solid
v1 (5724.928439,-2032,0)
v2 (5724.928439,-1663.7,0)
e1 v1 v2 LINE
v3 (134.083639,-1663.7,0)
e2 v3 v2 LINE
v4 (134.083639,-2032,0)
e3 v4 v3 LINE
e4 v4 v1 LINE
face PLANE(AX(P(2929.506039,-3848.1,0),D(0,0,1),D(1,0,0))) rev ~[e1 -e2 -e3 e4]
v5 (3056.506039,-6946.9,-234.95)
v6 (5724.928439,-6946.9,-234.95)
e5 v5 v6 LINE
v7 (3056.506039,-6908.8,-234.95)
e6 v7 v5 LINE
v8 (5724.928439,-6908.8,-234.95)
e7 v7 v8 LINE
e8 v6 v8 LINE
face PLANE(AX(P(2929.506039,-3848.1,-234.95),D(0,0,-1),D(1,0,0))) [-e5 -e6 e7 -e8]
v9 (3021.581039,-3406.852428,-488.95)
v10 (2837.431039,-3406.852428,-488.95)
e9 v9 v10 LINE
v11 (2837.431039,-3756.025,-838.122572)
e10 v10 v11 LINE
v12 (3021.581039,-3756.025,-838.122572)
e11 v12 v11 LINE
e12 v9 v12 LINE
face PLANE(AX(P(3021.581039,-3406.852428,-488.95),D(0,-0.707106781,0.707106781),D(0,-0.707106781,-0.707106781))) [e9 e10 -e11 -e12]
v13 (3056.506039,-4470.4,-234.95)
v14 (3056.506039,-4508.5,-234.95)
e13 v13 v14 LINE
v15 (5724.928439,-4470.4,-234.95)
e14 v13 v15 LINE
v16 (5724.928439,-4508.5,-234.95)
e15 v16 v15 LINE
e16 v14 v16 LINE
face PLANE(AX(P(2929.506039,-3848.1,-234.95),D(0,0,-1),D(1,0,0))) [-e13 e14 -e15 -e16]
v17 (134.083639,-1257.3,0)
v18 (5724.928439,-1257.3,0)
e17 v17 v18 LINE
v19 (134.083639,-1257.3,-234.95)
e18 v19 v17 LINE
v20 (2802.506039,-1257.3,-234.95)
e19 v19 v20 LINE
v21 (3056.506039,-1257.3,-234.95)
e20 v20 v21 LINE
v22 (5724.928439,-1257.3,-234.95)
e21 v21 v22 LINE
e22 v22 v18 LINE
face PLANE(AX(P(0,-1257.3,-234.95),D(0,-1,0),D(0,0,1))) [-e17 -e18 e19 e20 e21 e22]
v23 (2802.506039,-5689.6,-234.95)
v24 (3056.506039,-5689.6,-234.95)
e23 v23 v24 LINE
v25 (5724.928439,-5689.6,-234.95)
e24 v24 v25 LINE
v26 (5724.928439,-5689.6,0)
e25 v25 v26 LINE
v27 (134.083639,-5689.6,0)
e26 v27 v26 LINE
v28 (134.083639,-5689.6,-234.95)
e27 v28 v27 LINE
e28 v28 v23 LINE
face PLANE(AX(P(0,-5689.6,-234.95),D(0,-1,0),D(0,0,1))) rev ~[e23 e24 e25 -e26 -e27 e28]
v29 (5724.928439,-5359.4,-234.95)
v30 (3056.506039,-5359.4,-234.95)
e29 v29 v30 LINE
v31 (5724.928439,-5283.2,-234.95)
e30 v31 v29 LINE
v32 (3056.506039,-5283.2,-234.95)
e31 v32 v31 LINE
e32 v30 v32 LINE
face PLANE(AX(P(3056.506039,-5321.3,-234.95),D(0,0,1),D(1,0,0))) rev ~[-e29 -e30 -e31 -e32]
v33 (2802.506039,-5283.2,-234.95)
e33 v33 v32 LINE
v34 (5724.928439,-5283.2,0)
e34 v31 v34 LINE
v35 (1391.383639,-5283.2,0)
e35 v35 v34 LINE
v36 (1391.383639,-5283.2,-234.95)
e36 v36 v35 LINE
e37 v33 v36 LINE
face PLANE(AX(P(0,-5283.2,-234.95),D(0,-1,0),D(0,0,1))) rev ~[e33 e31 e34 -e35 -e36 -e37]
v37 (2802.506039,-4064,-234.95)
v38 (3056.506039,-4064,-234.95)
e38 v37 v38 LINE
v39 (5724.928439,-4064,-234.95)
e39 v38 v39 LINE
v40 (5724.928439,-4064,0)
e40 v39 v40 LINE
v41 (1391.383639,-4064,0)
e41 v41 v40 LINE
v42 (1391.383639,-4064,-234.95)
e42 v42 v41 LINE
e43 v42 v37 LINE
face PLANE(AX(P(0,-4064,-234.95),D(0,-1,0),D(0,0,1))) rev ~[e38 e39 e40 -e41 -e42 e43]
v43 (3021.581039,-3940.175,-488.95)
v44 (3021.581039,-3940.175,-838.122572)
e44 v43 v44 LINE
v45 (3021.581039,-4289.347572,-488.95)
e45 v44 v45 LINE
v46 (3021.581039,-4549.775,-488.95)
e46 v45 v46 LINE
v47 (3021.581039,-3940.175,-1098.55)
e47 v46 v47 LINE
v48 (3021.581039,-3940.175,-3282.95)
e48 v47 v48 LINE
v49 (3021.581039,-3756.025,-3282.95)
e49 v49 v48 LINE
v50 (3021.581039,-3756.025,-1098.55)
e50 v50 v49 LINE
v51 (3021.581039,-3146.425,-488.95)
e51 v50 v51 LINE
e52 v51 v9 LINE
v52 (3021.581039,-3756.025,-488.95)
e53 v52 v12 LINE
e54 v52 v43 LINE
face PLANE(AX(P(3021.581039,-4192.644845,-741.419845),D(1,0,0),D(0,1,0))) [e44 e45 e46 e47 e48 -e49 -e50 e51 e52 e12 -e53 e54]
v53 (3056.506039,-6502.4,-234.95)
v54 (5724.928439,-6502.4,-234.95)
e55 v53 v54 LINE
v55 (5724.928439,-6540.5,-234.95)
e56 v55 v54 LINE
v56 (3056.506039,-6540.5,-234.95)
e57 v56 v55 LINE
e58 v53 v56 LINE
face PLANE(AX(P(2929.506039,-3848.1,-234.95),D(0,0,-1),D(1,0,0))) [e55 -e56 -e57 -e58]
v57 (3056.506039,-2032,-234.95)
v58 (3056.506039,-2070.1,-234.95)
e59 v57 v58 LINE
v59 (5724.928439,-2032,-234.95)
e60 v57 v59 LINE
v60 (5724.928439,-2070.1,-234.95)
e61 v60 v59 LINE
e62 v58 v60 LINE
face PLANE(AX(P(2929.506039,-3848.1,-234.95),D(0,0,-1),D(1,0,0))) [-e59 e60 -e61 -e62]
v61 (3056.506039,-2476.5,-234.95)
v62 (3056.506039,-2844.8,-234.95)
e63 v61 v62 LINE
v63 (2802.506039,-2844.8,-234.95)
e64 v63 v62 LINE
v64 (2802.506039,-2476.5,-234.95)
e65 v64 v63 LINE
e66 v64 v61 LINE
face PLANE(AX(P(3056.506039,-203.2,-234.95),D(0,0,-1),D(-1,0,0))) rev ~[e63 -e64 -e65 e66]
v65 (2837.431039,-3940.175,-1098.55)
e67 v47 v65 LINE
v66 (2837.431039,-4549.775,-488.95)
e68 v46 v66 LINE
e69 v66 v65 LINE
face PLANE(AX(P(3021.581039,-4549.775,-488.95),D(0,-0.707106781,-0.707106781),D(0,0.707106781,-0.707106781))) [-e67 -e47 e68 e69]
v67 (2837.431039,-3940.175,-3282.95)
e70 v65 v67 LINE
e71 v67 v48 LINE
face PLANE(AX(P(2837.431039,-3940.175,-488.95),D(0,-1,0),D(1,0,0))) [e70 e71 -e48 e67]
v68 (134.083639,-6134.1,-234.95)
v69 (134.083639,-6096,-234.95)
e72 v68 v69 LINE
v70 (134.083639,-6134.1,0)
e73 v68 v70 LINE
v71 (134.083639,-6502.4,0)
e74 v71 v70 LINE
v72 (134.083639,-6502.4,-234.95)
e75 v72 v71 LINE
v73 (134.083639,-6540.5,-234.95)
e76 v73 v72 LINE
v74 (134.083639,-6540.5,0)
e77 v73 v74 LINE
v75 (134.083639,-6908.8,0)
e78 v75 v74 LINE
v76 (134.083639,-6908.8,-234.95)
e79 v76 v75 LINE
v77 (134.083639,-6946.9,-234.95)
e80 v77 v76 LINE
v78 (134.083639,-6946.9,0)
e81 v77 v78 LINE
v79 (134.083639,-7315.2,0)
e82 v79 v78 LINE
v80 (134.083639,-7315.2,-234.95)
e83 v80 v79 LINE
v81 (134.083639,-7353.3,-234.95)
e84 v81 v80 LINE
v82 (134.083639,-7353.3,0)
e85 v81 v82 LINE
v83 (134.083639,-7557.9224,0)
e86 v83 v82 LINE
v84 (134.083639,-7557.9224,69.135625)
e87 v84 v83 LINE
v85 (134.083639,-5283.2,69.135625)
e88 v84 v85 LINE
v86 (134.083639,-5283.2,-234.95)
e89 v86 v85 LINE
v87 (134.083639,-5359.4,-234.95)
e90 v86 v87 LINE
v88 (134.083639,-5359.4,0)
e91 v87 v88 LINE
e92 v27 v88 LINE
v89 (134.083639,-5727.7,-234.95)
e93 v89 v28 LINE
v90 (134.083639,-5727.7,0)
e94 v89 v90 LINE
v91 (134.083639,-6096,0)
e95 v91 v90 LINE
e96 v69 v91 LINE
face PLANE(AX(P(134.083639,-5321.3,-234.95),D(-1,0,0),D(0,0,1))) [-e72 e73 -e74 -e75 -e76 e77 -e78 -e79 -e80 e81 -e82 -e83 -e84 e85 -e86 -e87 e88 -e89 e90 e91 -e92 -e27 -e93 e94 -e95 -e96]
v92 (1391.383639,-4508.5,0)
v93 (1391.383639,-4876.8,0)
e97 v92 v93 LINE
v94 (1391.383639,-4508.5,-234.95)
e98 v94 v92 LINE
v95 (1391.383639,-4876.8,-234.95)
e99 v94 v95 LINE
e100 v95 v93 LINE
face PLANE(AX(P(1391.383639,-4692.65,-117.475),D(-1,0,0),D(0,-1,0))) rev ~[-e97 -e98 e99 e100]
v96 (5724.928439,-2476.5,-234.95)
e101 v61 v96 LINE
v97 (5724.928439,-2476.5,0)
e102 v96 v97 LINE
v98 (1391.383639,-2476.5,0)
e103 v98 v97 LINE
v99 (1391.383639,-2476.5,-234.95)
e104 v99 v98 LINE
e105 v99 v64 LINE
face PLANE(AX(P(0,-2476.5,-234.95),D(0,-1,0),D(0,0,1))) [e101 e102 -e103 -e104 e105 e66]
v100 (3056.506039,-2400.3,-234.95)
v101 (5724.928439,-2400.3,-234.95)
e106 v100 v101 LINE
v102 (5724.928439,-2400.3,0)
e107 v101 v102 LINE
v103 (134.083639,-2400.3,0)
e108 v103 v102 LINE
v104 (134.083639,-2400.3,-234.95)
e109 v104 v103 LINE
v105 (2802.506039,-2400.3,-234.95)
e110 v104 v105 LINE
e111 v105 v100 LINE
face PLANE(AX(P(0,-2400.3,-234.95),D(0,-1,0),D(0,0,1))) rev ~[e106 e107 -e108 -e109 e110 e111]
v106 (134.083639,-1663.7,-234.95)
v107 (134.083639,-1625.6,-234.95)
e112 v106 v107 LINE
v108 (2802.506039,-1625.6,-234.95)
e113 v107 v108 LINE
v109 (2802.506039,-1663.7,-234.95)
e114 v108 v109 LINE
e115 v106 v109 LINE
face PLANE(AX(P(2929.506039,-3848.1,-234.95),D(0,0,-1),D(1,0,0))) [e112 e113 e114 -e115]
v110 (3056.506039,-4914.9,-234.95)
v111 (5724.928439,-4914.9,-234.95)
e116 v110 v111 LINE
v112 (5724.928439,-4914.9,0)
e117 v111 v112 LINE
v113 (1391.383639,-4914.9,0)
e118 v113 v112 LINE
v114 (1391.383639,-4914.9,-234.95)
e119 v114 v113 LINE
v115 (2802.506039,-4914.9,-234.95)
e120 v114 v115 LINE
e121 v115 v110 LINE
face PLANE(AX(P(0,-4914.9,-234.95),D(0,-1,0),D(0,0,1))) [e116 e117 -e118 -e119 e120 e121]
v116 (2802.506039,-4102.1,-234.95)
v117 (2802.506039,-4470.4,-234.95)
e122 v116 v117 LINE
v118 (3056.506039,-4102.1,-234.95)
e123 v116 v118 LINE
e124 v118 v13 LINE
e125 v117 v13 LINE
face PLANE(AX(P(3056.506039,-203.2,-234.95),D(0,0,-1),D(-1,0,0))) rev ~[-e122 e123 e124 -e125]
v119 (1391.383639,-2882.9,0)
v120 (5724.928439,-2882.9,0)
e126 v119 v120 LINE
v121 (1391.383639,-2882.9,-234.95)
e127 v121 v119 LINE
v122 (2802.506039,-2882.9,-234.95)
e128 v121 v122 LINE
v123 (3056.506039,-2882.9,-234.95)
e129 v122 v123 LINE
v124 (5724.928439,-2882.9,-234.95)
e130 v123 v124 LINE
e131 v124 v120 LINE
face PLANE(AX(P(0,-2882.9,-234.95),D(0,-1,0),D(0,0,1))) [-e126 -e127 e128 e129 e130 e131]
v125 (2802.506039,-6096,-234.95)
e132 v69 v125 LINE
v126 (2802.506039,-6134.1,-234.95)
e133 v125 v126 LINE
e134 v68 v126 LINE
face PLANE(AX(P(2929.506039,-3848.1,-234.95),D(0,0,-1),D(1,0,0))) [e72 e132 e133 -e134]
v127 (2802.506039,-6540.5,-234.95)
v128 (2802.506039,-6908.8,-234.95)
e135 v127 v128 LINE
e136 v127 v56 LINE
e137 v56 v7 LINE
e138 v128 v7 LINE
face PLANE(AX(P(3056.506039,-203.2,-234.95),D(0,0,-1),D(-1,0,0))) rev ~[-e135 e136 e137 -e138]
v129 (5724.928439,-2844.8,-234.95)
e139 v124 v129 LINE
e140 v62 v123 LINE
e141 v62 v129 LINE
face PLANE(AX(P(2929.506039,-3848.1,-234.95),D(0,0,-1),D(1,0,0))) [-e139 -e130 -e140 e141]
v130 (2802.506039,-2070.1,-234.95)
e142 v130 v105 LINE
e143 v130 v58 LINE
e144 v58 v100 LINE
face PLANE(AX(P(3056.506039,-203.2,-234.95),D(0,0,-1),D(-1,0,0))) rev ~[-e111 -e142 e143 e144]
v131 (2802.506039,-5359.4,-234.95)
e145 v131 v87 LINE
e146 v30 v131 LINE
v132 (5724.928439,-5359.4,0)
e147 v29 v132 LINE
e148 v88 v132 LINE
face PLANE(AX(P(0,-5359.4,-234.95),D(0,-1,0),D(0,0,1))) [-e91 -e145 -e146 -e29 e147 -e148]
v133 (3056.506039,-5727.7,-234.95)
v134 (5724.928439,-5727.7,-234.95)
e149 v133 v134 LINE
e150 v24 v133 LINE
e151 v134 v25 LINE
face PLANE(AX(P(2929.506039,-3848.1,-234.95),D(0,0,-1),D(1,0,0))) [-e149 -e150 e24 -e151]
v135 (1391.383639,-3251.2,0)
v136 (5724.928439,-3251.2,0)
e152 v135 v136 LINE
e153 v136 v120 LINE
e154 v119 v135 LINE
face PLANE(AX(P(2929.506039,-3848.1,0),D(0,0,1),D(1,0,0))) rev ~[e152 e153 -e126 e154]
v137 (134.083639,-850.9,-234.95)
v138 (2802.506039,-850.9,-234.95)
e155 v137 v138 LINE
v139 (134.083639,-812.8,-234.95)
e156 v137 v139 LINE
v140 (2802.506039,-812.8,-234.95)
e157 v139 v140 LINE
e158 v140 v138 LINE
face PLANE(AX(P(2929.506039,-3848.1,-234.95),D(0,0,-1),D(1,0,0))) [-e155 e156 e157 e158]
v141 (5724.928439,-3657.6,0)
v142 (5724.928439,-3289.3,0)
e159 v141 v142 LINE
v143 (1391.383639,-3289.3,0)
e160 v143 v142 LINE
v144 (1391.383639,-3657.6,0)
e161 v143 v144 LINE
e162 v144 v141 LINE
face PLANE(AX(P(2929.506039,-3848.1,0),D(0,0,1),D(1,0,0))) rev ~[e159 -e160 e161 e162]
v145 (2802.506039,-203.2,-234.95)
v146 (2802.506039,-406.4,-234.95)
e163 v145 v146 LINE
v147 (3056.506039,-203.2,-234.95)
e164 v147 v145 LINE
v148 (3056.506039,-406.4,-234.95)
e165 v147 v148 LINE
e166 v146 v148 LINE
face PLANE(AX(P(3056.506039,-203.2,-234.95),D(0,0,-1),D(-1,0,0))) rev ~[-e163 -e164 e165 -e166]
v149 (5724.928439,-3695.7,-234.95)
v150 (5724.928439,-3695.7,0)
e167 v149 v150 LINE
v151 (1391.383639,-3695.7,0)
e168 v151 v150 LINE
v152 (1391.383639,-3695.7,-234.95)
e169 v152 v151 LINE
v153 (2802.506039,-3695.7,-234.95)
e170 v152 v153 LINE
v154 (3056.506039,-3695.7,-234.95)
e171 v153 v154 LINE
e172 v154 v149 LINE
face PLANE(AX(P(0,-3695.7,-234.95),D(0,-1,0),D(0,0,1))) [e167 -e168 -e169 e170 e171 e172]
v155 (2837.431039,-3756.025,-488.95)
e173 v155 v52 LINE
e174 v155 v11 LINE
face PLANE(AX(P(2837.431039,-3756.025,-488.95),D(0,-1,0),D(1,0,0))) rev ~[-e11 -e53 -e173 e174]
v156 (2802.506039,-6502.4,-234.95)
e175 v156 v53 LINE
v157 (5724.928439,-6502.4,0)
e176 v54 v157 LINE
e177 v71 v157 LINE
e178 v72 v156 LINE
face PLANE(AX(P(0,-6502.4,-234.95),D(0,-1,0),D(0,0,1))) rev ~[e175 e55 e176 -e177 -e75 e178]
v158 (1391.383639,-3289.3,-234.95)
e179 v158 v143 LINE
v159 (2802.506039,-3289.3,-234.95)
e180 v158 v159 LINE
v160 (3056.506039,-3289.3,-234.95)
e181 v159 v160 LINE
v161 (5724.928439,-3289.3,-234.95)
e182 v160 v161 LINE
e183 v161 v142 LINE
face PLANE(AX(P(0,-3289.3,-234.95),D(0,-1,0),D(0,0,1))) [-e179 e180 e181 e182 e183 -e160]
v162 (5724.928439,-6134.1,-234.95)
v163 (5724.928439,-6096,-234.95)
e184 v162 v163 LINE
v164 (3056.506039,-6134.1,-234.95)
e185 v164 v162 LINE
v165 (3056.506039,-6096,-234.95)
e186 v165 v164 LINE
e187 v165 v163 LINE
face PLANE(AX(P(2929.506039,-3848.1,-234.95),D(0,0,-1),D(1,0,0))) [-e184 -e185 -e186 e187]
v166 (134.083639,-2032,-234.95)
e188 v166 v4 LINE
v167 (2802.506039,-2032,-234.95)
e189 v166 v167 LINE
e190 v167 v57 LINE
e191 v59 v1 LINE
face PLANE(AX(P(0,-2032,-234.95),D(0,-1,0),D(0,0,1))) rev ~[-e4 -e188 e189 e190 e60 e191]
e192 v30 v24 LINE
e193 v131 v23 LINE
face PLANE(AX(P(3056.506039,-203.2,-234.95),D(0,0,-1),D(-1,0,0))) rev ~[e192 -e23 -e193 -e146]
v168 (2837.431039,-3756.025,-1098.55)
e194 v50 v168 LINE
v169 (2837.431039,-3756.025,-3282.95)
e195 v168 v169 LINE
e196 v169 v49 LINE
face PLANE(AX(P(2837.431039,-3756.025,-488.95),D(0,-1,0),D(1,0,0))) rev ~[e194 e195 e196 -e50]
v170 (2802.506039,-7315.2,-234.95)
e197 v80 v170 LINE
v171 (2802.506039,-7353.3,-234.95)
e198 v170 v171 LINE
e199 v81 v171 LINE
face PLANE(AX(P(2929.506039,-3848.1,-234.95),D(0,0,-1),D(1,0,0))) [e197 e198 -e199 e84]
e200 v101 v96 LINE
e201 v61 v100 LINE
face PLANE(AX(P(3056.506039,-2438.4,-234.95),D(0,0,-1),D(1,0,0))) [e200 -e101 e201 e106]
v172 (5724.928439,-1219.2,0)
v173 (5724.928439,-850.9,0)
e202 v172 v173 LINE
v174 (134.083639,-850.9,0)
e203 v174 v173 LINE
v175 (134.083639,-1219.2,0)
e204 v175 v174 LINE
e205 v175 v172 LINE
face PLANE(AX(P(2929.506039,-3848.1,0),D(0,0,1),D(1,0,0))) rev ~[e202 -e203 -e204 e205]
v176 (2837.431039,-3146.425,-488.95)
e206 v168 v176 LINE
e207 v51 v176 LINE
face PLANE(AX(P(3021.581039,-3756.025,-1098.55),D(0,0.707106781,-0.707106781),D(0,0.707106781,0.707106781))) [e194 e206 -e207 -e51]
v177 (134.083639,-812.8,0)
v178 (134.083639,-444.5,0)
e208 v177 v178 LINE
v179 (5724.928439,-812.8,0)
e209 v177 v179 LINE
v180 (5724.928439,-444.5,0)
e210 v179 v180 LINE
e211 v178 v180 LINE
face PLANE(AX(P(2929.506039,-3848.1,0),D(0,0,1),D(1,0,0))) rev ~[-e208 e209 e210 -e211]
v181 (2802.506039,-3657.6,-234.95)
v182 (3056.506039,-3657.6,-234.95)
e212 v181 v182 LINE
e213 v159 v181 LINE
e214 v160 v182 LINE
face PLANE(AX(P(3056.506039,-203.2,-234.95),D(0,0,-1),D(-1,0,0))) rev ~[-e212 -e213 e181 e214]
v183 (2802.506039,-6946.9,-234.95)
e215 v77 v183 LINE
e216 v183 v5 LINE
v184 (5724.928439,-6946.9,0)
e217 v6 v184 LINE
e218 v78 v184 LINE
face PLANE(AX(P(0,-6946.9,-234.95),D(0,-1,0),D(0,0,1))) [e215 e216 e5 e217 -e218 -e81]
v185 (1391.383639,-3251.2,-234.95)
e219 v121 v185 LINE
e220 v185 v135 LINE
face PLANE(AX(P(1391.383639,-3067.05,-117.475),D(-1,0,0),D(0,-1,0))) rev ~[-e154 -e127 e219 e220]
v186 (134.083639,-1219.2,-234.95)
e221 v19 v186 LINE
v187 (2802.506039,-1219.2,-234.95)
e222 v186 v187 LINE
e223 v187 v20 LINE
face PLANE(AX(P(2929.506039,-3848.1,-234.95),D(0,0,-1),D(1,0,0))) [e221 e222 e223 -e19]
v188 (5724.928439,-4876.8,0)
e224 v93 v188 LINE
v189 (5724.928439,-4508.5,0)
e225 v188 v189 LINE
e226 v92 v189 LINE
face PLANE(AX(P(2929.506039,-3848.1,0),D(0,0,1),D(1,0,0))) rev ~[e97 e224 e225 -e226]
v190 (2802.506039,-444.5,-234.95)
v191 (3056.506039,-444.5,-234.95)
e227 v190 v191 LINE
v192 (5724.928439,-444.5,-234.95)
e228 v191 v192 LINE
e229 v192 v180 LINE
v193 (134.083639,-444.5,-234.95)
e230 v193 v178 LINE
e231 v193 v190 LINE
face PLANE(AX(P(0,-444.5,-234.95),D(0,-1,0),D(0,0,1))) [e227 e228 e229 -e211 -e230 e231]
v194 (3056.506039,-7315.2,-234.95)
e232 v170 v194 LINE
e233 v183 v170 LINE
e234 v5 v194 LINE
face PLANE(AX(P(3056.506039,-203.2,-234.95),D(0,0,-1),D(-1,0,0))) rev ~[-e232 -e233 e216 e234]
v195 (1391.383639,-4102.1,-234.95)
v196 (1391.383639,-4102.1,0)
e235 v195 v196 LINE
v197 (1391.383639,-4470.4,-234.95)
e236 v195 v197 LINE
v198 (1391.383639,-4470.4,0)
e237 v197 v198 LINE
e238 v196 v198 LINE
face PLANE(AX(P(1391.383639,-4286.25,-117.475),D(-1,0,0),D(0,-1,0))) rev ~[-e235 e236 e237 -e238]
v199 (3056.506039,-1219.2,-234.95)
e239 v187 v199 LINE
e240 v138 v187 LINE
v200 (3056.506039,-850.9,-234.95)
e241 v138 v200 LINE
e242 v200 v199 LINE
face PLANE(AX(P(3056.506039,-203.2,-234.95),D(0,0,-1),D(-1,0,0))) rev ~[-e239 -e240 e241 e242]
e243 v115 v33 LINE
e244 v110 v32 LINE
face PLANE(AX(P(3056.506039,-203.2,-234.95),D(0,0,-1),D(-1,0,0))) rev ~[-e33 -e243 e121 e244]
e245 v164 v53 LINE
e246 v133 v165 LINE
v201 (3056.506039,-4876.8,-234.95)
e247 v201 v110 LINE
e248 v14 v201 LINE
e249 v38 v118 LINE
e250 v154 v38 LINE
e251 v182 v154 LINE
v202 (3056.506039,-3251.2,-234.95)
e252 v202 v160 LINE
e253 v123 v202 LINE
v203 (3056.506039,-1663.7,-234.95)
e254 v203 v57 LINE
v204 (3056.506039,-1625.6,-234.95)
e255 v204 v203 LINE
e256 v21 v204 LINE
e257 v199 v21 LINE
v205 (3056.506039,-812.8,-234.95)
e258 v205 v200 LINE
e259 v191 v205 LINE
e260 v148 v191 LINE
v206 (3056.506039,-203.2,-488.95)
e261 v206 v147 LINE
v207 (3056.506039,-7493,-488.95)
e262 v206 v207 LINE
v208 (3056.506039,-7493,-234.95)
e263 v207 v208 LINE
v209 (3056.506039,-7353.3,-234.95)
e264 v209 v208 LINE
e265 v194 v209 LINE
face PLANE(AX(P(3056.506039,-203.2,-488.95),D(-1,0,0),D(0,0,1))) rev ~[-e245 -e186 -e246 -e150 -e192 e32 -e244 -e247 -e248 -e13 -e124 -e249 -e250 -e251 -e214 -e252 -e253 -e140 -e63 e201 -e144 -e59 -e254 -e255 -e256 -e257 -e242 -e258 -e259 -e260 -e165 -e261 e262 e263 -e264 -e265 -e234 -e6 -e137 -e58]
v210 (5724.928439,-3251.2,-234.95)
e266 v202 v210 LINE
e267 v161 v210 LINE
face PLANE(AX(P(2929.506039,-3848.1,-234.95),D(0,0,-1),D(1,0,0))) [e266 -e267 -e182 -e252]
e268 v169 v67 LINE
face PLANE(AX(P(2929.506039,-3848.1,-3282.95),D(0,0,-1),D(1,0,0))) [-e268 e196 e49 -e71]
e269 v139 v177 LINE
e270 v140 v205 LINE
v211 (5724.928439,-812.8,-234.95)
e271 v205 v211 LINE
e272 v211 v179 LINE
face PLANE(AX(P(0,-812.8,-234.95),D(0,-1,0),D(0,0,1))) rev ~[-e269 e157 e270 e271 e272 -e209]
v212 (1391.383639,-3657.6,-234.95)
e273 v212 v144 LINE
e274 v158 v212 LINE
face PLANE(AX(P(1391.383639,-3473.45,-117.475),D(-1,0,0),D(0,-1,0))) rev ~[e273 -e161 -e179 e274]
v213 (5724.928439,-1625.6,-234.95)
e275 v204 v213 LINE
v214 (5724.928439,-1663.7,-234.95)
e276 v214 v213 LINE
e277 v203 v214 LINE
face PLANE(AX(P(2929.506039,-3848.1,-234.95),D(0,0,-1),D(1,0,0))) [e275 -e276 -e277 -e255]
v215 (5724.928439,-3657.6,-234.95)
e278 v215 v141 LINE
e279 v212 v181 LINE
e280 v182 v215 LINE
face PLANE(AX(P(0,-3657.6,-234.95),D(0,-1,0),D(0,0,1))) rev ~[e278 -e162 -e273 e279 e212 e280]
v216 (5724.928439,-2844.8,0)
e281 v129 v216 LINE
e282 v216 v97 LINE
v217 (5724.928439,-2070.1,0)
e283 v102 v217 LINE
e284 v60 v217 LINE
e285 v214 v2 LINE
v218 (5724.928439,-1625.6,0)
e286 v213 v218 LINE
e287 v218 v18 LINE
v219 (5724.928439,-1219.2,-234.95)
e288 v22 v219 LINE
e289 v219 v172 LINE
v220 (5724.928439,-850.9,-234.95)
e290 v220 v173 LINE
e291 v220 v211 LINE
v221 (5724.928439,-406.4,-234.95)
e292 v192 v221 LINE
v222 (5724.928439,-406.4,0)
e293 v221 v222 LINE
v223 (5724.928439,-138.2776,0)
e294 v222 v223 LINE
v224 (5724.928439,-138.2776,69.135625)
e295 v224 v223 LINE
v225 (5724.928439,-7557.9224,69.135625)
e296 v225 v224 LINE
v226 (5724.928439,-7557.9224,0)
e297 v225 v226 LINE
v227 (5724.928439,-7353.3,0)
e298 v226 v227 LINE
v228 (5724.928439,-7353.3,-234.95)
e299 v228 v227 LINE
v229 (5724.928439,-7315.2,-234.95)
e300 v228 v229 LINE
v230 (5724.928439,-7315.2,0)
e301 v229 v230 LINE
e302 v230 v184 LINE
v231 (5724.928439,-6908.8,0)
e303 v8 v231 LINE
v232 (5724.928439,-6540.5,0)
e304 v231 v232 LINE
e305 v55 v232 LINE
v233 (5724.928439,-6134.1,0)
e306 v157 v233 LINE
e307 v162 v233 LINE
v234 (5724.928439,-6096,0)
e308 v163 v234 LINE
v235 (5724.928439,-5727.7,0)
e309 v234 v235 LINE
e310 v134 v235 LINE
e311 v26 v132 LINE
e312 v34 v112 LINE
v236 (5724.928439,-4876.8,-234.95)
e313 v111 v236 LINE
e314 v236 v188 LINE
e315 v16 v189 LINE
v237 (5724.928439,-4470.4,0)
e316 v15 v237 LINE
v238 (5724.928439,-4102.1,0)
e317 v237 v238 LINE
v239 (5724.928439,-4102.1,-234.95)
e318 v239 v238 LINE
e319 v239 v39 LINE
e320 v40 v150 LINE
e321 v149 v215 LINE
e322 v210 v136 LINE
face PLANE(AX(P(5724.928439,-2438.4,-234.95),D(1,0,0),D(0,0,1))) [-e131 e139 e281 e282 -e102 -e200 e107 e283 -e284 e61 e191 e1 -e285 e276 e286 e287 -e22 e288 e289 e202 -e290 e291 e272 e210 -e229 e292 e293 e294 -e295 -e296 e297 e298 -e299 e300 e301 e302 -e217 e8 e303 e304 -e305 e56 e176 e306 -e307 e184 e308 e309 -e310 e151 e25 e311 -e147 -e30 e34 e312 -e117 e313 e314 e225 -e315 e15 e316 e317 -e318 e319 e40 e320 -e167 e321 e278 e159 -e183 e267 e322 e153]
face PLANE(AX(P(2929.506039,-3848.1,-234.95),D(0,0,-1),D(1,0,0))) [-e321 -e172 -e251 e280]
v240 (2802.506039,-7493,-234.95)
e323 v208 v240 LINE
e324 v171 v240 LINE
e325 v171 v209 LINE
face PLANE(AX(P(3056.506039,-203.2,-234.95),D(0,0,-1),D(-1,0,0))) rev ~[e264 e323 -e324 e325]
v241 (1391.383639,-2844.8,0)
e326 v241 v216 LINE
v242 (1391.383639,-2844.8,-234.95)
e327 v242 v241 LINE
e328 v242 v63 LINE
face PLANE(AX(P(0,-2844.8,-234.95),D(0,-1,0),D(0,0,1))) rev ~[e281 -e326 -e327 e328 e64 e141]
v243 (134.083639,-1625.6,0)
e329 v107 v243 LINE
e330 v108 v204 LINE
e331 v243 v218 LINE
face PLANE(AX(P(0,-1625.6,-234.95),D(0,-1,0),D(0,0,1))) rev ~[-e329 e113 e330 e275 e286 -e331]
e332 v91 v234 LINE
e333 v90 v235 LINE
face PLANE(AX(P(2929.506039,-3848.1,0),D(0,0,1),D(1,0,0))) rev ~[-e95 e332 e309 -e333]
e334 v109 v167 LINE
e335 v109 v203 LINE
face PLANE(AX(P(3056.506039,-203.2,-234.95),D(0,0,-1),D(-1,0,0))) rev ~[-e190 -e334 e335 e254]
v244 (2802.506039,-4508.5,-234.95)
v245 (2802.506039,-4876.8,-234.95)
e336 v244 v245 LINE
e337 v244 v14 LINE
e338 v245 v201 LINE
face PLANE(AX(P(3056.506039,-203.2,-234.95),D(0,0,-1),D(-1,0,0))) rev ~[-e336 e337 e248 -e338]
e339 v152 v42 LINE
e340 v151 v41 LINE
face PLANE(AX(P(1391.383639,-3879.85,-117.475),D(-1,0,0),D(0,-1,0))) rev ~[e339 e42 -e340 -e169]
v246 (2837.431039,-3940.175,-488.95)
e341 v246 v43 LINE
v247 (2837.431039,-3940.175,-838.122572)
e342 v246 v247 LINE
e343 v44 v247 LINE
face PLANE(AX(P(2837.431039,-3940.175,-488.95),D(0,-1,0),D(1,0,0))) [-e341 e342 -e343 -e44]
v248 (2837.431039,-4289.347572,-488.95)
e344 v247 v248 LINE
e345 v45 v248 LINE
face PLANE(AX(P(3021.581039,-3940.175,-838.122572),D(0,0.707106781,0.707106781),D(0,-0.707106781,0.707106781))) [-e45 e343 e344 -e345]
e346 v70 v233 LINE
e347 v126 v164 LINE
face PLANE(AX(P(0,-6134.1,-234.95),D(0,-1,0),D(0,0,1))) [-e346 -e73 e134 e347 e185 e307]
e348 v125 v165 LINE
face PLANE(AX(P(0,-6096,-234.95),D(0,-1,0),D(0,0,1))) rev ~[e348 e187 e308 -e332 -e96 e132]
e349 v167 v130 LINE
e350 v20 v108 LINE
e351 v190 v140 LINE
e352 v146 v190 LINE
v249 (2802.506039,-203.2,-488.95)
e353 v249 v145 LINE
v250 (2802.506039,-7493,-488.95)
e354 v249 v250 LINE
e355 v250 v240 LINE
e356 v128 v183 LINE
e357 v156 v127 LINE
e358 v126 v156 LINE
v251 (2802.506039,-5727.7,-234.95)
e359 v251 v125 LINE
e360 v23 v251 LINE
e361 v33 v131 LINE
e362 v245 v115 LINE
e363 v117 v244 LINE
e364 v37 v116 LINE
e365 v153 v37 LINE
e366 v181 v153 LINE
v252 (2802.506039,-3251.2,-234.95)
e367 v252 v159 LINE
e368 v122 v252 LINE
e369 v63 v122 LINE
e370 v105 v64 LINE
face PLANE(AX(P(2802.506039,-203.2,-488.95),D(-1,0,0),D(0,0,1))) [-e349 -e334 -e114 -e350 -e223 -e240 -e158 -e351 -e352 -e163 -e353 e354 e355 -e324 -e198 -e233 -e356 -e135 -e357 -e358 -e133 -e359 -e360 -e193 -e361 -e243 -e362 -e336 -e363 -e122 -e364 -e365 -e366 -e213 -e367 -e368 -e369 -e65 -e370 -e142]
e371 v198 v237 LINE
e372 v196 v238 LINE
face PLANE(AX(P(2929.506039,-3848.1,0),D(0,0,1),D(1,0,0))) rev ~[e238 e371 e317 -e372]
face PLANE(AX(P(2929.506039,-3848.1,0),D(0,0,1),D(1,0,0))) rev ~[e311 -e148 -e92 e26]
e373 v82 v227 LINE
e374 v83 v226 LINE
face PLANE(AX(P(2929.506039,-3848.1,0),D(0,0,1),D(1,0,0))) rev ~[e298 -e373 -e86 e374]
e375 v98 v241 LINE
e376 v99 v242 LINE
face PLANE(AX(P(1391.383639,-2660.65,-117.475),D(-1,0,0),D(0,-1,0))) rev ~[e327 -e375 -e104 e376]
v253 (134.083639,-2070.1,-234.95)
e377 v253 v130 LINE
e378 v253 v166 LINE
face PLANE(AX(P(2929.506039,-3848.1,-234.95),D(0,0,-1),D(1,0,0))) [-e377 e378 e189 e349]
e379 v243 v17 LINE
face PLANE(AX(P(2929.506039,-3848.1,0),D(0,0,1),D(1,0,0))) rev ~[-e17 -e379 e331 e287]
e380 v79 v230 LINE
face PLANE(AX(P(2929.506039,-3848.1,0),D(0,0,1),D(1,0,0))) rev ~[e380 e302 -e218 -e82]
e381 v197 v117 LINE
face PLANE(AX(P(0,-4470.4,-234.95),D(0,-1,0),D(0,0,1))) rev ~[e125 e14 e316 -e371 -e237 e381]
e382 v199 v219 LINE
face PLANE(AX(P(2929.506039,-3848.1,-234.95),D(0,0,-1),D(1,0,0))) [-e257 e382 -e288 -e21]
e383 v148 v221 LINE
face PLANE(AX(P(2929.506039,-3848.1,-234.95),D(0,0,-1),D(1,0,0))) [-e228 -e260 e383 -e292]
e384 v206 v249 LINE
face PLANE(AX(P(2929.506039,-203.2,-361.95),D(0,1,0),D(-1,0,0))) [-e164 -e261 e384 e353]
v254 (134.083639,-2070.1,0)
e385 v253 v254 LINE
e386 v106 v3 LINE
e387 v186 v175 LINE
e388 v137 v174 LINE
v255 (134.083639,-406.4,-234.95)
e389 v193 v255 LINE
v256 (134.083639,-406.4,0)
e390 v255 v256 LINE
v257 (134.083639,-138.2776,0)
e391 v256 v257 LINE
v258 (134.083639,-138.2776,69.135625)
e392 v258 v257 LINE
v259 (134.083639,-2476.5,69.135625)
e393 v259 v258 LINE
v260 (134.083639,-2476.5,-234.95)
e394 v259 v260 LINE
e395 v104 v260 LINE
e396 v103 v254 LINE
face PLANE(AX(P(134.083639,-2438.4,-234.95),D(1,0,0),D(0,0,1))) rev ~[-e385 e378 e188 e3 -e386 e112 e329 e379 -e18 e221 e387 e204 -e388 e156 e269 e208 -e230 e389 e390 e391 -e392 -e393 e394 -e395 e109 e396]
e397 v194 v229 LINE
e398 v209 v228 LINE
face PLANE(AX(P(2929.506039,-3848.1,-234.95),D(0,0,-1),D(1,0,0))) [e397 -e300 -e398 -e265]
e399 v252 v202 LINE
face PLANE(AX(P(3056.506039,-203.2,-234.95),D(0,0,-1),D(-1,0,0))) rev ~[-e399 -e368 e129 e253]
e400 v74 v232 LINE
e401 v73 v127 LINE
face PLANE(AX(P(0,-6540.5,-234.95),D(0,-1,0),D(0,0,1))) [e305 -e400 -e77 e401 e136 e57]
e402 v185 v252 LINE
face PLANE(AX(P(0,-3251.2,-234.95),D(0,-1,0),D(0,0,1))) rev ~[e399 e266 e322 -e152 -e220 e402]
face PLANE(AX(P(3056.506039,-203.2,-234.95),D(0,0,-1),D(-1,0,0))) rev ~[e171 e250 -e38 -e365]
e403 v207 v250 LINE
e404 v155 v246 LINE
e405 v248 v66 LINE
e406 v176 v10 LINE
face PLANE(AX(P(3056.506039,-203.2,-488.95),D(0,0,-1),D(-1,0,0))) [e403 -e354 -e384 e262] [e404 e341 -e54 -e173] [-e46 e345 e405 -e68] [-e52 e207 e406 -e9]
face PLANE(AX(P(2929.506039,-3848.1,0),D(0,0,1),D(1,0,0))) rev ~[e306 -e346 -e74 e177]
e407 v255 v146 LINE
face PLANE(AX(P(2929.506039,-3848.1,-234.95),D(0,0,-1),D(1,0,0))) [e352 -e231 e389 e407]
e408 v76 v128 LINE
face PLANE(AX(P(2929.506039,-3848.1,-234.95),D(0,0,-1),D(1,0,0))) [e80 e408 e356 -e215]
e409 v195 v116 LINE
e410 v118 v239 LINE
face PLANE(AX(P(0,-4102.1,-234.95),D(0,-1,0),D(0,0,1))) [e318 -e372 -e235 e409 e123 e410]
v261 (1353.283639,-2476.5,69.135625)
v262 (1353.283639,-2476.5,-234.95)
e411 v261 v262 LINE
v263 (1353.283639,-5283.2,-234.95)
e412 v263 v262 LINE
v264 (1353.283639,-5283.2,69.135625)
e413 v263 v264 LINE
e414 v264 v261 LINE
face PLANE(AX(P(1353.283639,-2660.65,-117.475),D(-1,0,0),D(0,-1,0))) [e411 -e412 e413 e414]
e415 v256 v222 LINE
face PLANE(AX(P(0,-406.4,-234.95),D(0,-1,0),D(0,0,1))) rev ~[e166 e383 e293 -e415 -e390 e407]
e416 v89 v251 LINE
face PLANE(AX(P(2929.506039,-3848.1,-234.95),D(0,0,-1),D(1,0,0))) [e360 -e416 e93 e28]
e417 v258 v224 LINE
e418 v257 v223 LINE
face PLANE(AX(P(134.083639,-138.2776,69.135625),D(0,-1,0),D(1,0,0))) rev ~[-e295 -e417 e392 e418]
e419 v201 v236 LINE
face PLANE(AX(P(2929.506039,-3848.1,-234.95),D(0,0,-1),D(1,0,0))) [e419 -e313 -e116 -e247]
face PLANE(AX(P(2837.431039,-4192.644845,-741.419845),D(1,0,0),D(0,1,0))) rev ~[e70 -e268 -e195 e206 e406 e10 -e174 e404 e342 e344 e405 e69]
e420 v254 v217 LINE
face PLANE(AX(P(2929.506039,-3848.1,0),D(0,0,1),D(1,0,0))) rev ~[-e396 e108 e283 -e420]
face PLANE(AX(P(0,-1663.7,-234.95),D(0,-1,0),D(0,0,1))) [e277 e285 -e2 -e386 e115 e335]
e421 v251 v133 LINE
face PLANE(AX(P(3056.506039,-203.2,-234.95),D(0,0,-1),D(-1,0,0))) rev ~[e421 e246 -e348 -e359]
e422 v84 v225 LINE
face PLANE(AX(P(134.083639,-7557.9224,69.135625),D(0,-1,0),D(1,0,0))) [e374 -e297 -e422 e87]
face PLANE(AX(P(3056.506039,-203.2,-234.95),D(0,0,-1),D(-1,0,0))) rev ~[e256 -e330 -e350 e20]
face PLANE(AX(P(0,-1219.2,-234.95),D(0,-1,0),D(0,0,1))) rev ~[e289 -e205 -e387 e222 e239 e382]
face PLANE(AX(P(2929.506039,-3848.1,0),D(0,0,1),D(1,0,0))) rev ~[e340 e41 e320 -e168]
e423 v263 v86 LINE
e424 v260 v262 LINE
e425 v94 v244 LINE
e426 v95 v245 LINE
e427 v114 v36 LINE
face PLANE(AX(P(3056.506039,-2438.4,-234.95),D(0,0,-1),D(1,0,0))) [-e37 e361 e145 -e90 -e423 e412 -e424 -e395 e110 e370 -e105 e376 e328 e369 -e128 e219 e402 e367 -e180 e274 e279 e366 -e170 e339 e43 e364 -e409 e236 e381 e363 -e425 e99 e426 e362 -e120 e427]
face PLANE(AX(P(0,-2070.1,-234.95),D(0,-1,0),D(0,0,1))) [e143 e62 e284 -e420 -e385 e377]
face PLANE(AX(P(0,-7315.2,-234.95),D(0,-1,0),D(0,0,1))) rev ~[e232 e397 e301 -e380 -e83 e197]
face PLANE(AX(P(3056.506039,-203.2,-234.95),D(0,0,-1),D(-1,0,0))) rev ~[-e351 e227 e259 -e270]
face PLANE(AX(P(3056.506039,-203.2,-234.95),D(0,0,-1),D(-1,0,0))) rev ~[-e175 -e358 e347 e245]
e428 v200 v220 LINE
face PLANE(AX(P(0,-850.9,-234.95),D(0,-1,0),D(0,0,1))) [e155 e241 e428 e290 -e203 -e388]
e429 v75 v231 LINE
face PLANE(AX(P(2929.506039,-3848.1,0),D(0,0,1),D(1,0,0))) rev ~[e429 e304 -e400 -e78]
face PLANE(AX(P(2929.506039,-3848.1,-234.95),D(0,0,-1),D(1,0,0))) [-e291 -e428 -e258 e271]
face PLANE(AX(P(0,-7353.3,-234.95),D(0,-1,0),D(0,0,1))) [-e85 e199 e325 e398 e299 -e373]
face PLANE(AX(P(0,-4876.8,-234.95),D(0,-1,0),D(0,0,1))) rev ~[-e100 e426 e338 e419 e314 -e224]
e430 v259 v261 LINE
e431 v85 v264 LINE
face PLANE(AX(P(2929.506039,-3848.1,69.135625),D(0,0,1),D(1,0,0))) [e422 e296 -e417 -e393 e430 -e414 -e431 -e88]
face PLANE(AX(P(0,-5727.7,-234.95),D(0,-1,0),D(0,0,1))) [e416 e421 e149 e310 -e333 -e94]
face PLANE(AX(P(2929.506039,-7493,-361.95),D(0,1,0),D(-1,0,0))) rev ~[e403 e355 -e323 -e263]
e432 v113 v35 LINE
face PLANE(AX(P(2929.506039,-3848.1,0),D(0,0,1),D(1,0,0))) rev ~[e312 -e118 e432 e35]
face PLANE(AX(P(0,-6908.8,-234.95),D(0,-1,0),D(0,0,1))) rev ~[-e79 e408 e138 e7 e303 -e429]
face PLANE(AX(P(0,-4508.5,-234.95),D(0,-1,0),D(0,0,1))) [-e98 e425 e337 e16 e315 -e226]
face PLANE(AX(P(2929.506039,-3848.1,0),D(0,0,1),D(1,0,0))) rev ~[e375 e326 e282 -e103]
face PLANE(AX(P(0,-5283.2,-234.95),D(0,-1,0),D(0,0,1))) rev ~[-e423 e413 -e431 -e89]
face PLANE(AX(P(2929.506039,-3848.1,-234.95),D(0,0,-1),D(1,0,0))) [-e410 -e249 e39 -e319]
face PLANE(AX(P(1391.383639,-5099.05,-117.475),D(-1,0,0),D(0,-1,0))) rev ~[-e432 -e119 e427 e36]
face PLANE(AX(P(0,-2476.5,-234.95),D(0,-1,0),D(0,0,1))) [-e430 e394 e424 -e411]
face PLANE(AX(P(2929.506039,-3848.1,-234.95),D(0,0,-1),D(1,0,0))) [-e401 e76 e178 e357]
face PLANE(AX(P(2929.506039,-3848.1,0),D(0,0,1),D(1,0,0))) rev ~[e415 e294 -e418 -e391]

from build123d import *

# Parameters (mm, degrees)
F0_W      = 5867.4
F0_H      = 7696.2
F1_DEPTH  = 69.135625
F2_W      = 5867.4
F2_H      = 7696.2
F2_W_2    = 5791.2
F2_H_2    = 7620
F3_DEPTH  = 234.95
F4_W      = 38.1
F4_H      = 234.95
F5_DEPTH  = 5863.2060388453
F7_W      = 254
F7_H      = 254
F8_DEPTH  = 7289.8
F9_W      = 184.15
F9_H      = 184.15
F10_DEPTH = 2794
F12_DEPTH = 184.15
F13_W     = 5867.4
F13_H     = 7696.2
F13_W_2   = 5590.8448
F13_H_2   = 7419.6448
F14_DEPTH = 304.085625
F15_W     = 1219.2
F15_H     = 2806.7
F16_DEPTH = 304.8
F17_W     = 368.3
F17_H     = 234.95
F18_DEPTH = 38.1
F19_DEPTH = 38.1
F20_DEPTH = 38.1


with BuildPart() as f1:
    # F0 (on Top) → F1 (new body)
    with BuildSketch(Plane.XY):
        with Locations((2929.5060388453, -3848.1)):
            Rectangle(F0_W, F0_H)
    extrude(amount=F1_DEPTH)

    # F2 (on face) → F3 (join)
    with BuildSketch(Plane(origin=(0, 0, 0), x_dir=(1, 0, 0), z_dir=(0, 0, -1))):
        with Locations((2929.5060388453, 3848.1)):
            Rectangle(F2_W, F2_H)
        with Locations((2929.5060388453, 3848.1)):
            Rectangle(F2_W_2, F2_H_2, mode=Mode.SUBTRACT)
    extrude(amount=F3_DEPTH)

    # F4 (on Right) → F5 (join, through all)
    with BuildSketch(Plane.YZ):
        with Locations((-425.45, -117.475)):
            Rectangle(F4_W, F4_H)
        with Locations((-831.85, -117.475)):
            Rectangle(F4_W, F4_H)
        with Locations((-1238.25, -117.475)):
            Rectangle(F4_W, F4_H)
        with Locations((-1644.65, -117.475)):
            Rectangle(F4_W, F4_H)
        with Locations((-2051.05, -117.475)):
            Rectangle(F4_W, F4_H)
        with Locations((-2457.45, -117.475)):
            Rectangle(F4_W, F4_H)
        with Locations((-2863.85, -117.475)):
            Rectangle(F4_W, F4_H)
        with Locations((-3270.25, -117.475)):
            Rectangle(F4_W, F4_H)
        with Locations((-3676.65, -117.475)):
            Rectangle(F4_W, F4_H)
        with Locations((-4083.05, -117.475)):
            Rectangle(F4_W, F4_H)
        with Locations((-4489.45, -117.475)):
            Rectangle(F4_W, F4_H)
        with Locations((-4895.85, -117.475)):
            Rectangle(F4_W, F4_H)
        with Locations((-5302.25, -117.475)):
            Rectangle(F4_W, F4_H)
        with Locations((-5708.65, -117.475)):
            Rectangle(F4_W, F4_H)
        with Locations((-6115.05, -117.475)):
            Rectangle(F4_W, F4_H)
        with Locations((-6521.45, -117.475)):
            Rectangle(F4_W, F4_H)
        with Locations((-6927.85, -117.475)):
            Rectangle(F4_W, F4_H)
        with Locations((-7334.25, -117.475)):
            Rectangle(F4_W, F4_H)
    extrude(amount=F5_DEPTH)

    # F7 (on offset) → F8 (join)
    with BuildSketch(Plane(origin=(0, -203.2, 0), x_dir=(-1, 0, 0), z_dir=(0, 1, 0))):
        with Locations((-2929.5060388453, -361.95)):
            Rectangle(F7_W, F7_H)
    extrude(amount=-F8_DEPTH)

    # F9 (on face) → F10 (join)
    with BuildSketch(Plane(origin=(0, 0, -488.95), x_dir=(1, 0, 0), z_dir=(0, 0, -1))):
        with Locations((2929.5060388453, 3848.1)):
            Rectangle(F9_W, F9_H)
    extrude(amount=F10_DEPTH)

    # F11 (on face) → F12 (join, through all)
    with BuildSketch(Plane.YZ.offset(3021.5810388453)):
        Polygon((-3940.175, -838.122572489), (-4289.347572489, -488.95), (-4549.775, -488.95), (-3940.175, -1098.55), align=None)
        Polygon((-3406.852427511, -488.95), (-3756.025, -838.122572489), (-3756.025, -1098.55), (-3146.425, -488.95), align=None)
    extrude(amount=-F12_DEPTH)

    # F13 (on face) → F14 (cut, through all)
    with BuildSketch(Plane.XY.offset(69.135625)):
        with Locations((2929.5060388453, -3848.1)):
            Rectangle(F13_W, F13_H)
        with Locations((2929.5060388453, -3848.1)):
            Rectangle(F13_W_2, F13_H_2, mode=Mode.SUBTRACT)
    extrude(amount=-F14_DEPTH, mode=Mode.SUBTRACT)

    # F15 (on face) → F16 (cut)
    with BuildSketch(Plane.XY.offset(69.135625)):
        with Locations((743.6836388453, -3879.85)):
            Rectangle(F15_W, F15_H)
    extrude(amount=-F16_DEPTH, mode=Mode.SUBTRACT)

    # F17 (on face) → F18 (join)
    with BuildSketch(Plane(origin=(1353.2836388453, 0, 0), x_dir=(0, -1, 0), z_dir=(-1, 0, 0))):
        with Locations((2660.65, -117.475)):
            Rectangle(F17_W, F17_H)
        with Locations((3067.05, -117.475)):
            Rectangle(F17_W, F17_H)
        with Locations((3473.45, -117.475)):
            Rectangle(F17_W, F17_H)
        with Locations((3879.85, -117.475)):
            Rectangle(F17_W, F17_H)
        with Locations((4286.25, -117.475)):
            Rectangle(F17_W, F17_H)
        with Locations((4692.65, -117.475)):
            Rectangle(F17_W, F17_H)
        with Locations((5099.05, -117.475)):
            Rectangle(F17_W, F17_H)
    extrude(amount=-F18_DEPTH)

    # F19 (add): a face of the model
    f19_faces = [f1.faces().sort_by_distance(p)[0] for p in [
        (2929.5060388453, -5321.3, -117.475),
    ]]
    extrude(f19_faces, amount=F19_DEPTH)

    # F20 (add): a face of the model
    f20_faces = [f1.faces().sort_by_distance(p)[0] for p in [
        (2929.5060388453, -2438.4, -117.475),
    ]]
    extrude(f20_faces, amount=F20_DEPTH)


solid = f1.part
